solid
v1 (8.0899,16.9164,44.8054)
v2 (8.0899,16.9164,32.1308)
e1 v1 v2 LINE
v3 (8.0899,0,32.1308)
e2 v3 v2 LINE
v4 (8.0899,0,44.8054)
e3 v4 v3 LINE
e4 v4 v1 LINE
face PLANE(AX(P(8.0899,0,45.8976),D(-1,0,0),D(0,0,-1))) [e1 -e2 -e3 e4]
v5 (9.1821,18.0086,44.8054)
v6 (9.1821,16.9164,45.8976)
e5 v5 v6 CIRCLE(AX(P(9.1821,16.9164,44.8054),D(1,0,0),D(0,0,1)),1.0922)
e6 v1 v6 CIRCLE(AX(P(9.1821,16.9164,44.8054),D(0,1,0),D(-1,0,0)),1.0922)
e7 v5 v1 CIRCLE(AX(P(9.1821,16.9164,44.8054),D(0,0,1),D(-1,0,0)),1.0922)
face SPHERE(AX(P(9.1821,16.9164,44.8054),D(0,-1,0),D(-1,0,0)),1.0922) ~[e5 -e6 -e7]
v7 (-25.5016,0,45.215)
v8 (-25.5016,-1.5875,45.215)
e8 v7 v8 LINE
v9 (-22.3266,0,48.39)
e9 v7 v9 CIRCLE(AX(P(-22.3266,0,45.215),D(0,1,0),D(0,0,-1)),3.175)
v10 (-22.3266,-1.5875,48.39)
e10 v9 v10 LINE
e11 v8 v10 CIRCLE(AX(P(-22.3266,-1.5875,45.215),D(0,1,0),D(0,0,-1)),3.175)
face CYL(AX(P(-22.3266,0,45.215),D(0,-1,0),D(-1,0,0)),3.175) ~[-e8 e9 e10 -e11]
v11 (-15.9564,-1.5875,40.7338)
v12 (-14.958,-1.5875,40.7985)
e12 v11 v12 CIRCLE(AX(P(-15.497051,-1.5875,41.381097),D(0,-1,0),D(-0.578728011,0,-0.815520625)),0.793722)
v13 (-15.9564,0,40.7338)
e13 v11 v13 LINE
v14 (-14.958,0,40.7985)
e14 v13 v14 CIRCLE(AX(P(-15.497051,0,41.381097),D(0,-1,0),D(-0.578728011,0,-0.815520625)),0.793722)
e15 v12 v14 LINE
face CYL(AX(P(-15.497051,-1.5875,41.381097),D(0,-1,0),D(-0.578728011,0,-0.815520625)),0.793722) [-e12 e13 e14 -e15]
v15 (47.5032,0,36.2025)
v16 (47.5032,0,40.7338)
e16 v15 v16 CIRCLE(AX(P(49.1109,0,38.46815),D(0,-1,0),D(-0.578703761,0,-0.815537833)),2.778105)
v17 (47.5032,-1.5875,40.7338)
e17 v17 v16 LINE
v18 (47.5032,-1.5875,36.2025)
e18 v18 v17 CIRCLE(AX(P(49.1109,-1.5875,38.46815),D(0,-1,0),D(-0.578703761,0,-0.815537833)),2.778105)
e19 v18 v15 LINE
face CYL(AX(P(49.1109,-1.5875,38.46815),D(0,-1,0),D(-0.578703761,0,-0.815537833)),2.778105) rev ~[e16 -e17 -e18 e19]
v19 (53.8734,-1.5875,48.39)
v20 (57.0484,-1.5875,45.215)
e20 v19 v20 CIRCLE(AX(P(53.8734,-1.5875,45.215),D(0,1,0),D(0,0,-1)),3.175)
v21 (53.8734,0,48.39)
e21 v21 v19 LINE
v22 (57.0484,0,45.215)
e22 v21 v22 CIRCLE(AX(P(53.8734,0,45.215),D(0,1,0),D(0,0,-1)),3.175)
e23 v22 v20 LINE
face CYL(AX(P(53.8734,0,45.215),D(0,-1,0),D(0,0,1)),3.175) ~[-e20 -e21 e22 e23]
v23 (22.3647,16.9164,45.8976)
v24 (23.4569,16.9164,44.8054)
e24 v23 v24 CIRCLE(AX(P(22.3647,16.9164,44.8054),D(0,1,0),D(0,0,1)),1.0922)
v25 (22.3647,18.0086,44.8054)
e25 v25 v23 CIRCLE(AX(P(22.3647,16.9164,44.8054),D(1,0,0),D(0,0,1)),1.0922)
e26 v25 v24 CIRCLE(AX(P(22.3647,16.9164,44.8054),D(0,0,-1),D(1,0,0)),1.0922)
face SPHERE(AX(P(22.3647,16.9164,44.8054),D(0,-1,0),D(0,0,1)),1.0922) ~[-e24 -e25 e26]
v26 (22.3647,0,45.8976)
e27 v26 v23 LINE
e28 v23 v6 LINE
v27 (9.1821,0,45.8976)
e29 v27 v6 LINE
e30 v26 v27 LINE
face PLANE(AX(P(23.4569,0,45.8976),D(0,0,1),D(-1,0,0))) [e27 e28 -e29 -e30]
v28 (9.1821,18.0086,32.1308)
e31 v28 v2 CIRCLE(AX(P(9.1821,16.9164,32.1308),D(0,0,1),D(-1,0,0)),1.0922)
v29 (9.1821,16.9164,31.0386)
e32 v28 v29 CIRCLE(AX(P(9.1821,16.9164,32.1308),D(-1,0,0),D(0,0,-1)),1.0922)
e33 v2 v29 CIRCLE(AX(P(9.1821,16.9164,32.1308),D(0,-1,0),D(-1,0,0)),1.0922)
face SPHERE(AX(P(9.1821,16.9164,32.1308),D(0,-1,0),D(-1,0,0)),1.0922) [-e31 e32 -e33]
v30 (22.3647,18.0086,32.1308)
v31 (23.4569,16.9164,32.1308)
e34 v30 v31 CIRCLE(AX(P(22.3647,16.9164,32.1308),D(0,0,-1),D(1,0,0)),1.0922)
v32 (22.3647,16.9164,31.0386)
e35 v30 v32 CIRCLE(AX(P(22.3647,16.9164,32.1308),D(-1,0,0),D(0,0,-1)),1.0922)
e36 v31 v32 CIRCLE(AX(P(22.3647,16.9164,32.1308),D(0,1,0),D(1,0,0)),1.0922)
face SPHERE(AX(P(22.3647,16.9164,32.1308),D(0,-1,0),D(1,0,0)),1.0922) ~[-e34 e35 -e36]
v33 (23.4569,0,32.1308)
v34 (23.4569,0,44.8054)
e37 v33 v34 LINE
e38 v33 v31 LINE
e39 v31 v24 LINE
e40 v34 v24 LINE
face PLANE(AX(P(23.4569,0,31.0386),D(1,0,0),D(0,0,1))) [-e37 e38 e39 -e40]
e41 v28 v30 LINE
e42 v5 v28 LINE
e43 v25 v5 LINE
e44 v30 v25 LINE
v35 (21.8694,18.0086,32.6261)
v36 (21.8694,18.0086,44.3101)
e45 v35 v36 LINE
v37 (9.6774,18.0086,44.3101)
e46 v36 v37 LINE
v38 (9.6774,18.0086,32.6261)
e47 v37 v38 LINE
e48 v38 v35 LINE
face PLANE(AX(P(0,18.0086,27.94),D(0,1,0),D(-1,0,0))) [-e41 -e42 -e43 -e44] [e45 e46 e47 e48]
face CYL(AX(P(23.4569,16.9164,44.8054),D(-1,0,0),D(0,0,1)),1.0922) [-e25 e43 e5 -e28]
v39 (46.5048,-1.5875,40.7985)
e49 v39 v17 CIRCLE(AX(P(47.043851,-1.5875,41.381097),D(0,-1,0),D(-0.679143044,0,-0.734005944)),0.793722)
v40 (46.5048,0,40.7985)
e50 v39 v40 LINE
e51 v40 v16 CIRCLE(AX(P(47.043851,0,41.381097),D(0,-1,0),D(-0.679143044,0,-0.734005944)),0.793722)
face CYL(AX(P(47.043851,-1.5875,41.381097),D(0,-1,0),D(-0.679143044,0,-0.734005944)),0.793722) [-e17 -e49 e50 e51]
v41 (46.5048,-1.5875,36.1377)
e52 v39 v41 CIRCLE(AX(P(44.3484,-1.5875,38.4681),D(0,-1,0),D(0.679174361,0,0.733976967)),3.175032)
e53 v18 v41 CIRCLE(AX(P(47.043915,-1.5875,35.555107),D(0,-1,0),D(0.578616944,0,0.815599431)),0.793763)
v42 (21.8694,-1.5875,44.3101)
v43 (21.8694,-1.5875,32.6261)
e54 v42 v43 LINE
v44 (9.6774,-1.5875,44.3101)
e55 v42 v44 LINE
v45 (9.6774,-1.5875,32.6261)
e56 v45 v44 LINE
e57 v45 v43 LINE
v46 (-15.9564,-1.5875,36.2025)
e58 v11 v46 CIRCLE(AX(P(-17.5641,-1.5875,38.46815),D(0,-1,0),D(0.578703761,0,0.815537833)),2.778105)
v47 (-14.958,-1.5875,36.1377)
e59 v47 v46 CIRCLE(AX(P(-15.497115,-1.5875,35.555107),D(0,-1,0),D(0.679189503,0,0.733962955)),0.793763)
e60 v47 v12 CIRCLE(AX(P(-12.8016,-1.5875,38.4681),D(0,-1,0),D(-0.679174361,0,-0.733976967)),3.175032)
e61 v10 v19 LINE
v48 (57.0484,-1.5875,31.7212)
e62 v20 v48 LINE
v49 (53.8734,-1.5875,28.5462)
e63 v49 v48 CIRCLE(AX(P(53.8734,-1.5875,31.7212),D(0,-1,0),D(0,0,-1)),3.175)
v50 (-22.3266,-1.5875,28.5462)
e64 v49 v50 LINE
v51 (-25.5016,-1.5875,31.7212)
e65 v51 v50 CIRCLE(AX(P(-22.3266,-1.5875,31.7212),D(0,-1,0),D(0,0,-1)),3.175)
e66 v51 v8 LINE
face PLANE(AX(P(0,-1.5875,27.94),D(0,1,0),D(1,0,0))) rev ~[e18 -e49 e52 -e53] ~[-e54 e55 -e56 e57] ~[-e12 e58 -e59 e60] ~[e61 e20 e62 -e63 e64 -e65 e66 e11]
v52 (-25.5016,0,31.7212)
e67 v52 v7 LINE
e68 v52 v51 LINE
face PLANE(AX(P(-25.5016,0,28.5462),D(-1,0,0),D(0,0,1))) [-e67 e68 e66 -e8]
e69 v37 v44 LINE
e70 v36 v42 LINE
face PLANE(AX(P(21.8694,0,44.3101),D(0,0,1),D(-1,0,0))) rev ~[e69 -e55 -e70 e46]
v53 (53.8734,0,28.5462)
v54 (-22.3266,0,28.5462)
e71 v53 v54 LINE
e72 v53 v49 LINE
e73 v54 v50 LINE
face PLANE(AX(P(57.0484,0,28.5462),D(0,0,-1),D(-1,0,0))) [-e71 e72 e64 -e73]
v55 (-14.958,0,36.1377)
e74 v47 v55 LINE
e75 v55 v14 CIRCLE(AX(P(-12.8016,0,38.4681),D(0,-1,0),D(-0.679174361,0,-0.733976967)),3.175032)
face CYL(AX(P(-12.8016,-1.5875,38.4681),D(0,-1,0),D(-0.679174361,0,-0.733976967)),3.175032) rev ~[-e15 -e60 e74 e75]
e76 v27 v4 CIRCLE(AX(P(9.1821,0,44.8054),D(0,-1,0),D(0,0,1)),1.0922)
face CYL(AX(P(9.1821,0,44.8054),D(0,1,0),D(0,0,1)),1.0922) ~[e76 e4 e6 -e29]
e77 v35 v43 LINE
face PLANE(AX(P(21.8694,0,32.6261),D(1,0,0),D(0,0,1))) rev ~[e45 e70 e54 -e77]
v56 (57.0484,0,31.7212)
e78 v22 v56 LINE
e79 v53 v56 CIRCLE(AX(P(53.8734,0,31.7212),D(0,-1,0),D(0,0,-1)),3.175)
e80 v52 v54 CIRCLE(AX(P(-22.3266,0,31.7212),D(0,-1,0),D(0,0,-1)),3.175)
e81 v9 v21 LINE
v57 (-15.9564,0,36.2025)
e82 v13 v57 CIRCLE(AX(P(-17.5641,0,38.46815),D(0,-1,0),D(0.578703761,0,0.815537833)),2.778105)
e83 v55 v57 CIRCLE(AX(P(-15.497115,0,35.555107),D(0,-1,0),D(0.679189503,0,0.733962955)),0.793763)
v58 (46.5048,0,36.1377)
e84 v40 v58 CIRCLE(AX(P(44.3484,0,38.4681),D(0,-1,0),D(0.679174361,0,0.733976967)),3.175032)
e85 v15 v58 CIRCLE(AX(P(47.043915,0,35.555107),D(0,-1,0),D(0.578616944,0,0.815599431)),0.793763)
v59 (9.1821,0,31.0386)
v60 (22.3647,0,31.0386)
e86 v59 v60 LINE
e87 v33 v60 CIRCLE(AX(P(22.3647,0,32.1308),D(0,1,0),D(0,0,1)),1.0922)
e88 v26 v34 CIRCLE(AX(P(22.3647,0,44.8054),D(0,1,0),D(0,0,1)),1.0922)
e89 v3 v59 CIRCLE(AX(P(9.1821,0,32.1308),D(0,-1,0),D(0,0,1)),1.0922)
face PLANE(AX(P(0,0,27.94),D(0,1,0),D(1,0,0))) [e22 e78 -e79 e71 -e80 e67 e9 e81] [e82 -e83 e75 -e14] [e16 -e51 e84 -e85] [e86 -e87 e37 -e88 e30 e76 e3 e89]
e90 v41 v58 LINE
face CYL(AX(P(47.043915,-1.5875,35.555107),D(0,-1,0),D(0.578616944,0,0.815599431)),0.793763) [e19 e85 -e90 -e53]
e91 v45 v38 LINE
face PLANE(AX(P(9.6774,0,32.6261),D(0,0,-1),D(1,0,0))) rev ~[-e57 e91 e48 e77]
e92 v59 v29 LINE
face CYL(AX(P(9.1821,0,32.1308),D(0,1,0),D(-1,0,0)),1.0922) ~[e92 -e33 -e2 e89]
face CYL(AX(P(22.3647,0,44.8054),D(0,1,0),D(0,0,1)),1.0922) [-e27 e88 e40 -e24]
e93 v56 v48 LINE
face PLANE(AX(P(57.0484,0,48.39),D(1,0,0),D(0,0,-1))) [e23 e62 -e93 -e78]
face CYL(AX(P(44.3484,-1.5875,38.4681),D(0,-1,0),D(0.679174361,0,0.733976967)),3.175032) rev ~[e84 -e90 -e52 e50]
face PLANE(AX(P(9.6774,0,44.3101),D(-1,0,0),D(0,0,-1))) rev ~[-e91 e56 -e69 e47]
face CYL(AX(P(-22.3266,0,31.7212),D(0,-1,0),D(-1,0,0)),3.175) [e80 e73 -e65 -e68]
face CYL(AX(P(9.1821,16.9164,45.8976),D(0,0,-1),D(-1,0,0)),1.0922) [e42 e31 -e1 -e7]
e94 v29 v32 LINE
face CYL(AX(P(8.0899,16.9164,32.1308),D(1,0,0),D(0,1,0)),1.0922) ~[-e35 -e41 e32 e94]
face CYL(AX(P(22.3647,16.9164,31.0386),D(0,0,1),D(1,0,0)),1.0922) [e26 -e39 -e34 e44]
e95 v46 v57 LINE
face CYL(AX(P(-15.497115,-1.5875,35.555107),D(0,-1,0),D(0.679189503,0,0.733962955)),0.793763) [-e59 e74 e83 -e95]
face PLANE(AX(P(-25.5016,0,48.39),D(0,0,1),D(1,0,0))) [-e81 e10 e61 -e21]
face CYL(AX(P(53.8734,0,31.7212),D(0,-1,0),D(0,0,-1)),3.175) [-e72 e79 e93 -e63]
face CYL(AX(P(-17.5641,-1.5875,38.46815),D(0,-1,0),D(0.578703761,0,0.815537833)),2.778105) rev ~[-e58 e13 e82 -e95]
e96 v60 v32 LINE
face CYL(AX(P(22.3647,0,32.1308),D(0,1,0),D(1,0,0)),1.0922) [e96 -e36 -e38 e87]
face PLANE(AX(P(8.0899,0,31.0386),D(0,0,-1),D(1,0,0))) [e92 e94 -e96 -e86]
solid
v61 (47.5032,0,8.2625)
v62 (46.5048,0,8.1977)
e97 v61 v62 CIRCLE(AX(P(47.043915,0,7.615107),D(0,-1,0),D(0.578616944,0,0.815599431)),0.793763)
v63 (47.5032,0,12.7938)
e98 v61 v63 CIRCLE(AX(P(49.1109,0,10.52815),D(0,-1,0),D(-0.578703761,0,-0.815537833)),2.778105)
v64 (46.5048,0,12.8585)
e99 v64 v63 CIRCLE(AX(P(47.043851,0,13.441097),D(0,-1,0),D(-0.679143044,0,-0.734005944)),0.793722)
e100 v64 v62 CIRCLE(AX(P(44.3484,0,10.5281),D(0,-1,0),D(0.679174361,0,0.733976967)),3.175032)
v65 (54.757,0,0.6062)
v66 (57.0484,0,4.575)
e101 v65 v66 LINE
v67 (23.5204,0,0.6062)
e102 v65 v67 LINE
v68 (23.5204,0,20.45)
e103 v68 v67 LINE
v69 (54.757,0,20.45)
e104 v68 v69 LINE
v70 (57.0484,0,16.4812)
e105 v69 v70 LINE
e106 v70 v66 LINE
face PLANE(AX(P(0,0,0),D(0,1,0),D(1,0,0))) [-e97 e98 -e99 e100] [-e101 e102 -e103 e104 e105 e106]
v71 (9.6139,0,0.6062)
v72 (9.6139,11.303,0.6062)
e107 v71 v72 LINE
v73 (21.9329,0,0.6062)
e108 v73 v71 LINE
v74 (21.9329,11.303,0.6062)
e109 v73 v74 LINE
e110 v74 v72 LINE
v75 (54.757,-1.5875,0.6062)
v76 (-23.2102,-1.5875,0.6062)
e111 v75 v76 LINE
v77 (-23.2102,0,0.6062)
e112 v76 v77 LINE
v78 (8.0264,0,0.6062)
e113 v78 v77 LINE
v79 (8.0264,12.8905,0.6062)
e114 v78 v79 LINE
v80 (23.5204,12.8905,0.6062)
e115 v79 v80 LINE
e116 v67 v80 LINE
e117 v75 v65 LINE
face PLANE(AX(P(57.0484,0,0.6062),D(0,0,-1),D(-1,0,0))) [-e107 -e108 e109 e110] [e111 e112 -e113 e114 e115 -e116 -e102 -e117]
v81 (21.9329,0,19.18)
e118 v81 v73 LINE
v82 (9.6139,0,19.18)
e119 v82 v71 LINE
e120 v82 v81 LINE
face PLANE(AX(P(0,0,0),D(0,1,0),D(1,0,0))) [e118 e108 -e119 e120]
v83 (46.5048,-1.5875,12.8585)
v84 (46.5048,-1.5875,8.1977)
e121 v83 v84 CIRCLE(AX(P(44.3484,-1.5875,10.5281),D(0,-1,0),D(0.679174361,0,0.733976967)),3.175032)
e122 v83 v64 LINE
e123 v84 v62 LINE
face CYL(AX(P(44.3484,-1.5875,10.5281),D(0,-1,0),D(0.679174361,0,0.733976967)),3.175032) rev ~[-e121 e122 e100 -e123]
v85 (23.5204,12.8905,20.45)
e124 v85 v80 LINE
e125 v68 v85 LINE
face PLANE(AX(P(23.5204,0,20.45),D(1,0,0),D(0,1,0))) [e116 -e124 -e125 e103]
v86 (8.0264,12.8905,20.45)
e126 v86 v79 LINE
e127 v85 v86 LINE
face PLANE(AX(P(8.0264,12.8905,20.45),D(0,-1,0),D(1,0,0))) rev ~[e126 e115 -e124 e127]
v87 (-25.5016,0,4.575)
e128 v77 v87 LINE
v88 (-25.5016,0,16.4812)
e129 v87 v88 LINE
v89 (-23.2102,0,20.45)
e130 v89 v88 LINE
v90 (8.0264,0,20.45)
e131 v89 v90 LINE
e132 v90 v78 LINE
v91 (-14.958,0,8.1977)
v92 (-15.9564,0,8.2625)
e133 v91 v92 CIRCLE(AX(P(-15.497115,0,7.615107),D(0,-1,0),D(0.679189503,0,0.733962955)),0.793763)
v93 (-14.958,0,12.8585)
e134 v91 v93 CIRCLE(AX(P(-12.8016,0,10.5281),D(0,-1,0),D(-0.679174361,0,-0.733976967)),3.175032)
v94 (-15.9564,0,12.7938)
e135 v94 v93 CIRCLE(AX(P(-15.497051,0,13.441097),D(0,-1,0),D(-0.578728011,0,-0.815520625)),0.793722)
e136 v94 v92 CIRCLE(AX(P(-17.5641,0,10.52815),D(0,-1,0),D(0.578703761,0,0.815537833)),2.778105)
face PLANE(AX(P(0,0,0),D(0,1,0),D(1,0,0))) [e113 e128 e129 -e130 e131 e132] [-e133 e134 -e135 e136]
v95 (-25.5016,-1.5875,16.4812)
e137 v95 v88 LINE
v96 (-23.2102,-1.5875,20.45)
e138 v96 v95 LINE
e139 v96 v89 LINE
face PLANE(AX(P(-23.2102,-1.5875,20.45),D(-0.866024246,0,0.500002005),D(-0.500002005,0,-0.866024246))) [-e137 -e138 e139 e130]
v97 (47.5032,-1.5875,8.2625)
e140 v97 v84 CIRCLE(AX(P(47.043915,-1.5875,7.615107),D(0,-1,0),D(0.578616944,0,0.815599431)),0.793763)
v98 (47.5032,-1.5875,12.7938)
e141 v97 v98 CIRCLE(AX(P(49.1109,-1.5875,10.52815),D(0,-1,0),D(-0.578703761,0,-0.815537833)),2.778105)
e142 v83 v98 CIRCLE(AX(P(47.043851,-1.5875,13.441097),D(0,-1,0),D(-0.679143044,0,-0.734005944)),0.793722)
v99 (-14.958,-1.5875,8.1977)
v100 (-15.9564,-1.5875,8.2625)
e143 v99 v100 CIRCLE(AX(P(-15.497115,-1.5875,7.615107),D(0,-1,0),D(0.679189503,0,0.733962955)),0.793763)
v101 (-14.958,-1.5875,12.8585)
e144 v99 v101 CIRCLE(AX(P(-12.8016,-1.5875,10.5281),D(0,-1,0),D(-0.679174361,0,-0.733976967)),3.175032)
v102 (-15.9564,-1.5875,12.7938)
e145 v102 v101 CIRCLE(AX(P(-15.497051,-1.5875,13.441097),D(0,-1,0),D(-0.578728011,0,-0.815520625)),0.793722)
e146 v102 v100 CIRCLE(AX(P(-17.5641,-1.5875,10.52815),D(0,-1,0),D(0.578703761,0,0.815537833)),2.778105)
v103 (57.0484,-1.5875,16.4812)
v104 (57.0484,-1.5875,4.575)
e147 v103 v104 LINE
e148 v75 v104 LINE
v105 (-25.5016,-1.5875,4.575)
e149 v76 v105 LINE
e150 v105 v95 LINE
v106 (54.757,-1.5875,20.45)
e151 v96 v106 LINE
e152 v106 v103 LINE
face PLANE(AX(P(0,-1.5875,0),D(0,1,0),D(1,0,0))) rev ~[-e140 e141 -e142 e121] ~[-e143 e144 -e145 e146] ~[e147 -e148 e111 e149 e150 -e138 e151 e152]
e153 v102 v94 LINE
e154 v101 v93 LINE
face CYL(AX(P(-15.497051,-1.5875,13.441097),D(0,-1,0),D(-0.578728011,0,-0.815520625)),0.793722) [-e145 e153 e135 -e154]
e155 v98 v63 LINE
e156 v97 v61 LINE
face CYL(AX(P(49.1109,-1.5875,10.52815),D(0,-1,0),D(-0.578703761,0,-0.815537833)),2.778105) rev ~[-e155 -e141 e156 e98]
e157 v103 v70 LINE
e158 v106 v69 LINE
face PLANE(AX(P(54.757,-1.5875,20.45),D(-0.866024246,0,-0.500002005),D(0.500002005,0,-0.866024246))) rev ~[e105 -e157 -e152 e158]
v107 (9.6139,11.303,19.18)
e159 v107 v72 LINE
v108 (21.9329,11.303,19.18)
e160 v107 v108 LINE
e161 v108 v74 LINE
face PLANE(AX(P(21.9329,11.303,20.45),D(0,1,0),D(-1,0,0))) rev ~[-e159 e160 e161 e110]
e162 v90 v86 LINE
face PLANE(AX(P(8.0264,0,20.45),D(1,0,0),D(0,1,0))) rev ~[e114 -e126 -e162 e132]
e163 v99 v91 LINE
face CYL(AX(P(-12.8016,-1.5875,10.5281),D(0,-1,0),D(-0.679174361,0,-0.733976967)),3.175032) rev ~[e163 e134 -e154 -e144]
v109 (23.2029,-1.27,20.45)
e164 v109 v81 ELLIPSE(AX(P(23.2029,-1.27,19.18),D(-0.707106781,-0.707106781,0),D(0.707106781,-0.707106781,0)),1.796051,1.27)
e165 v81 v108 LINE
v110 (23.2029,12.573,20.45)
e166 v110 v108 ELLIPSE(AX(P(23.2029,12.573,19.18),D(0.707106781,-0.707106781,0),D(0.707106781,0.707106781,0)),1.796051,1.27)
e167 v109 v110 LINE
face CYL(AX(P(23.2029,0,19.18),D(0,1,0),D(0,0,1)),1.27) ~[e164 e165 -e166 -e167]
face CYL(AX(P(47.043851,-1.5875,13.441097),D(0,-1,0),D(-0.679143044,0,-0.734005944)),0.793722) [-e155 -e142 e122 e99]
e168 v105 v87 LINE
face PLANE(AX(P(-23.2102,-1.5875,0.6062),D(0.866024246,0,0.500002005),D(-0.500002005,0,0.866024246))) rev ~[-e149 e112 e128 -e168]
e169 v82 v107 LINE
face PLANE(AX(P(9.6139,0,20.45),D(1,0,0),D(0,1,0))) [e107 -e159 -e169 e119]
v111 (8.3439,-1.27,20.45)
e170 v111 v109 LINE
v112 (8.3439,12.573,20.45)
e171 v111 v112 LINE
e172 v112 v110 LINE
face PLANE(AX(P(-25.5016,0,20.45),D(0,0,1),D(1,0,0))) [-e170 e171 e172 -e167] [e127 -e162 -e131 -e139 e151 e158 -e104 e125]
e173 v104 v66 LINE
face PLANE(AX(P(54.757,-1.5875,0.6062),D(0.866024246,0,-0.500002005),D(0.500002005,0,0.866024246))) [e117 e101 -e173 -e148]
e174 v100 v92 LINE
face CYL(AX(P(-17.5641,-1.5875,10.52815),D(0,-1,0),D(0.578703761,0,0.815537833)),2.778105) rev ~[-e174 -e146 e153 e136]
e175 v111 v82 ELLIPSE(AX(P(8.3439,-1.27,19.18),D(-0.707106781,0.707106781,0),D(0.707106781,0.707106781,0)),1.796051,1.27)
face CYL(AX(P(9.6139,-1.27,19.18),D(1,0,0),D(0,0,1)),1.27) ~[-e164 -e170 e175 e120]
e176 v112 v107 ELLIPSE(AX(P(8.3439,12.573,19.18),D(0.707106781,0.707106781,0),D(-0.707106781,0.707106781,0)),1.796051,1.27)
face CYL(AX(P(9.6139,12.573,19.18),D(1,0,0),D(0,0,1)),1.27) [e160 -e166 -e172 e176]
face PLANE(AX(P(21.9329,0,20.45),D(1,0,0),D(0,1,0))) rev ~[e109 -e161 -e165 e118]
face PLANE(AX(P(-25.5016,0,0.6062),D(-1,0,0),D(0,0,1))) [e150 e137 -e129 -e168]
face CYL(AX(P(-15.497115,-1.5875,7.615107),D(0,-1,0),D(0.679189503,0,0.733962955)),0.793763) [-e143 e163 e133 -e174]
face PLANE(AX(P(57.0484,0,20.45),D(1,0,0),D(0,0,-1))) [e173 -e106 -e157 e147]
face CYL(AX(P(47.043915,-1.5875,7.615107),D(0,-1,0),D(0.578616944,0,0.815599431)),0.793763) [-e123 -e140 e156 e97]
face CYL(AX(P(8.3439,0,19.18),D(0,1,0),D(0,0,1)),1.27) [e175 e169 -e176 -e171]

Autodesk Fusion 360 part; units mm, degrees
sketch "Sketch1" plane through (0, 0, 0) normal (0, 1, 0) x (1, 0, 0) in component "Solenoid base"
  line L0 (-25.5016, -20.45) -> (57.0484, -20.45)
  line L1 (57.0484, -20.45) -> (57.0484, -0.6062)
  line L2 (57.0484, -0.6062) -> (-25.5016, -0.6062)
  line L3 (-25.5016, -0.6062) -> (-25.5016, -20.45)
  dimension "d1_1_1" = 82.55
  dimension "d2_1_1" = 19.8438
extrude "Extrude1" add sketch "Sketch1" against normal blind 1.5875 makes body 1 in component "Solenoid base"
sketch "Sketch5" plane through (0, -1.5875, 0) normal (0, -1, 0) x (1, 0, 0) in component "Solenoid base"
  line L0 (15.7734, -11.3) -> (15.7734, 20.45) construction
  line L1 (46.9483, 10.5281) -> (-16.5517, 10.5281) construction
  line L2 (44.3484, 10.5281) -> (49.1109, 10.5281) construction
  arc A0 (47.5032, 8.2625) -> (46.5048, 8.1977) centre (47.0438, 7.6151) ccw
  arc A1 (46.5048, 12.8585) -> (47.5032, 12.7938) centre (47.0438, 13.4411) ccw
  arc A2 (47.5032, 8.2625) -> (47.5032, 12.7938) centre (49.1109, 10.5281) ccw
  arc A3 (46.5048, 12.8585) -> (46.5048, 8.1977) centre (44.3484, 10.5281) ccw
  arc A4 (-14.958, 8.1977) -> (-14.958, 12.8585) centre (-12.8016, 10.5281) ccw
  arc A5 (-15.9564, 12.7938) -> (-15.9564, 8.2625) centre (-17.5641, 10.5281) ccw
  arc A6 (-15.9564, 12.7938) -> (-14.958, 12.8585) centre (-15.497, 13.4411) ccw
  arc A7 (-14.958, 8.1977) -> (-15.9564, 8.2625) centre (-15.497, 7.6151) ccw
  line L3 (49.1109, 10.5281) -> (-12.8016, 10.5281) construction
  line L4 (57.0484, 10.5281) -> (-25.5016, 10.5281) construction
  line L5 (57.0484, 20.45) -> (-25.5016, 20.45)
  line L6 (-25.5016, 20.45) -> (-25.5016, 0.6062)
  line L7 (-25.5016, 0.6062) -> (57.0484, 0.6062)
  line L8 (57.0484, 0.6062) -> (57.0484, 20.45)
  dimension "d33_1_1" = 5.5563
  dimension "d35_1_1" = 1.5875
  dimension "d38_1_1" = 4.7625
  dimension "d40_1_1" = 3.175
  dimension "d2" = 28.575
extrude "Extrude12" cut sketch "Sketch5" against normal up to surface (1.5875 mm away) contours A0 A1 A2 A3 | A4 A5 A6 A7 bodies 1 in component "Solenoid base"
sketch "Sketch17" plane through (0, 0, 20.45) normal (0, 0, 1) x (1, 0, 0) in component "Solenoid base"
  line L0 (57.0484, 0) -> (-25.5016, 0)
  line L1 (-25.5016, -1.5875) -> (57.0484, -1.5875)
  line L2 (15.7734, 0) -> (15.7734, 14.8694) construction
  line L3 (15.7734, 0) -> (21.9329, 0)
  line L4 (21.9329, 0) -> (21.9329, 11.303)
  line L5 (21.9329, 11.303) -> (15.7734, 11.303)
  line L6 (9.6139, 0) -> (9.6139, 11.303)
  line L7 (9.6139, 11.303) -> (15.7734, 11.303)
  line L8 (8.0264, 0) -> (8.0264, 12.8905)
  line L9 (8.0264, 12.8905) -> (15.7734, 12.8905)
  line L10 (23.5204, 12.8905) -> (15.7734, 12.8905)
  line L11 (23.5204, -1.5875) -> (23.5204, 12.8905)
  line L12 (15.7734, -1.5875) -> (23.5204, -1.5875)
  line L13 (-25.5016, 0) -> (-25.5016, -1.5875)
  line L14 (57.0484, -1.5875) -> (57.0484, 0)
  dimension "d5" = 11.303
  dimension "d6" = 6.1595
  dimension "d7" = 1.5875
extrude "Extrude13" add sketch "Sketch17" against normal up to surface (19.8438 mm away) contours L0 L4 L5 L6 L7 L8 L9 L10 L11 bodies 1 in component "Solenoid base"
sketch "Sketch1 (2)" plane through (0, 0, 0) normal (0, 1, 0) x (1, 0, 0) in component "Solenoid base vertical"
  line L0 (-25.5016, -20.45) -> (57.0484, -20.45)
  line L1 (57.0484, -20.45) -> (57.0484, -0.6062)
  line L2 (57.0484, -0.6062) -> (-25.5016, -0.6062)
  line L3 (-25.5016, -0.6062) -> (-25.5016, -20.45)
  dimension "d1_1_1_1" = 82.55
  dimension "d2_1_1_1" = 19.8438
extrude "Extrude1'" add sketch "Sketch1 (2)" against normal blind 1.5875 separate body makes body 2 in component "Solenoid base vertical"
sketch "Sketch5 (2)" plane through (0, -1.5875, 0) normal (0, -1, 0) x (1, 0, 0) in component "Solenoid base vertical"
  line L0 (15.7734, -11.3) -> (15.7734, 20.45) construction
  line L1 (46.9483, 10.5281) -> (-16.5517, 10.5281) construction
  line L2 (44.3484, 10.5281) -> (49.1109, 10.5281) construction
  arc A0 (47.5032, 8.2625) -> (46.5048, 8.1977) centre (47.0438, 7.6151) ccw
  arc A1 (46.5048, 12.8585) -> (47.5032, 12.7938) centre (47.0438, 13.4411) ccw
  arc A2 (47.5032, 8.2625) -> (47.5032, 12.7938) centre (49.1109, 10.5281) ccw
  arc A3 (46.5048, 12.8585) -> (46.5048, 8.1977) centre (44.3484, 10.5281) ccw
  arc A4 (-14.958, 8.1977) -> (-14.958, 12.8585) centre (-12.8016, 10.5281) ccw
  arc A5 (-15.9564, 12.7938) -> (-15.9564, 8.2625) centre (-17.5641, 10.5281) ccw
  arc A6 (-15.9564, 12.7938) -> (-14.958, 12.8585) centre (-15.497, 13.4411) ccw
  arc A7 (-14.958, 8.1977) -> (-15.9564, 8.2625) centre (-15.497, 7.6151) ccw
  line L3 (49.1109, 10.5281) -> (-12.8016, 10.5281) construction
  line L4 (57.0484, 10.5281) -> (-25.5016, 10.5281) construction
  line L5 (57.0484, 20.45) -> (-25.5016, 20.45)
  line L6 (-25.5016, 20.45) -> (-25.5016, 0.6062)
  line L7 (-25.5016, 0.6062) -> (57.0484, 0.6062)
  line L8 (57.0484, 0.6062) -> (57.0484, 20.45)
  dimension "d33_1_1_1" = 5.5563
  dimension "d35_1_1_1" = 1.5875
  dimension "d38_1_1_1" = 4.7625
  dimension "d40_1_1_1" = 3.175
  dimension "d2_2" = 28.575
extrude "Extrude12'" cut sketch "Sketch5 (2)" against normal up to surface (1.5875 mm away) contours A0 A1 A2 A3 | A4 A5 A6 A7 bodies 2 in component "Solenoid base vertical"
sketch "Sketch17 (2)" plane through (0, 0, 20.45) normal (0, 0, 1) x (1, 0, 0) in component "Solenoid base vertical"
  line L0 (57.0484, 0) -> (-25.5016, 0)
  line L1 (-25.5016, -1.5875) -> (57.0484, -1.5875)
  line L2 (15.7734, 0) -> (15.7734, 14.8694) construction
  line L3 (15.7734, 0) -> (22.9172, 0)
  line L4 (22.9172, 0) -> (22.9172, 14.2875)
  line L5 (22.9172, 14.2875) -> (15.7734, 14.2875)
  line L6 (8.6297, 0) -> (8.6297, 14.2875)
  line L7 (8.6297, 14.2875) -> (15.7734, 14.2875)
  line L8 (7.0422, 0) -> (7.0422, 15.875)
  line L9 (7.0422, 15.875) -> (15.7734, 15.875)
  line L10 (24.5047, 15.875) -> (15.7734, 15.875)
  line L11 (24.5047, -1.5875) -> (24.5047, 15.875)
  line L12 (15.7734, -1.5875) -> (24.5047, -1.5875)
  line L13 (-25.5016, 0) -> (-25.5016, -1.5875)
  line L14 (57.0484, -1.5875) -> (57.0484, 0)
  dimension "d5_2" = 14.2875
  dimension "d6_2" = 7.1437
  dimension "d7_2" = 1.5875
sketch "Sketch18" plane through (0, 0, 0) normal (0, 1, 0) x (-1, 0, 0) in component "Solenoid base vertical"
  arc A0 (-46.5048, 8.1977) -> (-47.5032, 8.2625) centre (-47.0438, 7.6151) ccw
  arc A1 (-47.5032, 12.7938) -> (-47.5032, 8.2625) centre (-49.1109, 10.5281) ccw
  arc A2 (-47.5032, 12.7938) -> (-46.5048, 12.8585) centre (-47.0438, 13.4411) ccw
  arc A3 (-46.5048, 8.1977) -> (-46.5048, 12.8585) centre (-44.3484, 10.5281) ccw
  arc A4 (14.958, 12.8585) -> (15.9564, 12.7938) centre (15.497, 13.4411) ccw
  arc A5 (15.9564, 8.2625) -> (15.9564, 12.7938) centre (17.5641, 10.5281) ccw
  arc A6 (15.9564, 8.2625) -> (14.958, 8.1977) centre (15.497, 7.6151) ccw
  arc A7 (14.958, 12.8585) -> (14.958, 8.1977) centre (12.8016, 10.5281) ccw
  line L0 (25.5016, 0.6062) -> (25.5016, 20.45)
  line L1 (25.5016, 20.45) -> (-57.0484, 20.45)
  line L2 (-57.0484, 20.45) -> (-57.0484, 0.6062)
  line L3 (-57.0484, 0.6062) -> (25.5016, 0.6062)
  line L4 (-15.7734, 0.6062) -> (-15.7734, 20.45) construction
  line L5 (-8.6297, 0.6062) -> (-22.9172, 0.6062)
  line L6 (-21.8694, 4.6861) -> (-21.8694, 16.3701)
  line L7 (-22.9172, 20.45) -> (-8.6297, 20.45)
  line L8 (-9.6774, 16.3701) -> (-9.6774, 4.6861)
  line L9 (-9.6774, 4.6861) -> (-21.8694, 4.6861)
  line L10 (-21.8694, 10.5281) -> (-21.8694, 16.3701)
  line L11 (-21.8694, 16.3701) -> (-9.6774, 16.3701)
  line L12 (-9.6774, 10.5281) -> (-9.6774, 4.6861)
  line L13 (-9.6774, 10.5281) -> (-27.6863, 10.5281) construction
  line L14 (25.5016, 10.5281) -> (-3.8857, 10.5281) construction
  dimension "d10" = 6.096
  dimension "d11" = 12.192
  dimension "d12" = 11.684
  dimension "d14" = 5.842
extrude "Extrude14" cut sketch "Sketch18" against normal up to surface (1.5875 mm away) contours L6 L8 L9 L10 L11 L12 bodies 2 in component "Solenoid base vertical"
sketch "Sketch19" plane through (0, 0, 0) normal (0, 1, 0) x (-1, 0, 0) in component "Solenoid base vertical"
  line L0 (-9.6774, 4.6861) -> (-21.8694, 4.6861)
  line L1 (-21.8694, 4.6861) -> (-21.8694, 16.3701)
  line L2 (-21.8694, 16.3701) -> (-9.6774, 16.3701)
  line L3 (-9.6774, 16.3701) -> (-9.6774, 4.6861)
  arc A0 (-46.5048, 8.1977) -> (-47.5032, 8.2625) centre (-47.0438, 7.6151) ccw
  arc A1 (-47.5032, 12.7938) -> (-47.5032, 8.2625) centre (-49.1109, 10.5281) ccw
  arc A2 (-47.5032, 12.7938) -> (-46.5048, 12.8585) centre (-47.0438, 13.4411) ccw
  arc A3 (-46.5048, 8.1977) -> (-46.5048, 12.8585) centre (-44.3484, 10.5281) ccw
  arc A4 (14.958, 12.8585) -> (15.9564, 12.7938) centre (15.497, 13.4411) ccw
  arc A5 (15.9564, 8.2625) -> (15.9564, 12.7938) centre (17.5641, 10.5281) ccw
  arc A6 (15.9564, 8.2625) -> (14.958, 8.1977) centre (15.497, 7.6151) ccw
  arc A7 (14.958, 12.8585) -> (14.958, 8.1977) centre (12.8016, 10.5281) ccw
  line L4 (25.5016, 0.6062) -> (25.5016, 20.45)
  line L5 (25.5016, 20.45) -> (-57.0484, 20.45)
  line L6 (-57.0484, 20.45) -> (-57.0484, 0.6062)
  line L7 (-57.0484, 0.6062) -> (25.5016, 0.6062)
  line L8 (-23.4569, 17.9576) -> (-8.0899, 17.9576)
  line L9 (-8.0899, 17.9576) -> (-8.0899, 3.0986)
  line L10 (-8.0899, 3.0986) -> (-23.4569, 3.0986)
  line L11 (-23.4569, 3.0986) -> (-23.4569, 17.9576)
  dimension "d17" = -1.5875
extrude "Extrude15" add sketch "Sketch19" along normal blind 18.0086 contours L8 L9 L10 L11 bodies 2 in component "Solenoid base vertical"
fillet "Fillet9" radius 1.0922 8 edges at (23.4569, 9.0043, 17.9576) (23.4569, 9.0043, 3.0986) (8.0899, 9.0043, 3.0986) (8.0899, 9.0043, 17.9576) (8.0899, 18.0086, 10.5281) (15.7734, 18.0086, 17.9576) (23.4569, 18.0086, 10.5281) (15.7734, 18.0086, 3.0986) on bodies 2 in component "Solenoid base vertical"
fillet "Fillet10" radius 3.175 4 edges at (57.0484, -0.7937, 20.45) (57.0484, -0.7937, 0.6062) (-25.5016, -0.7937, 20.45) (-25.5016, -0.7937, 0.6062) on bodies 2 in component "Solenoid base vertical"
fillet "Fillet9'" radius 1.27 4 edges at (15.7734, 0, 20.45) (9.6139, 5.6515, 20.45) (15.7734, 11.303, 20.45) (21.9329, 5.6515, 20.45) on bodies 1 in component "Solenoid base"
sketch "Sketch18 (2)" plane through (0, -1.5875, 0) normal (0, -1, 0) x (1, 0, 0) in component "Solenoid base"
  arc A0 (47.5032, 8.2625) -> (46.5048, 8.1977) centre (47.0438, 7.6151) ccw
  arc A1 (46.5048, 12.8585) -> (46.5048, 8.1977) centre (44.3484, 10.5281) ccw
  arc A2 (46.5048, 12.8585) -> (47.5032, 12.7938) centre (47.0438, 13.4411) ccw
  arc A3 (47.5032, 8.2625) -> (47.5032, 12.7938) centre (49.1109, 10.5281) ccw
  arc A4 (-15.9564, 12.7938) -> (-14.958, 12.8585) centre (-15.497, 13.4411) ccw
  arc A5 (-14.958, 8.1977) -> (-14.958, 12.8585) centre (-12.8016, 10.5281) ccw
  arc A6 (-14.958, 8.1977) -> (-15.9564, 8.2625) centre (-15.497, 7.6151) ccw
  arc A7 (-15.9564, 12.7938) -> (-15.9564, 8.2625) centre (-17.5641, 10.5281) ccw
  line L0 (-25.5016, 20.45) -> (-25.5016, 0.6062)
  line L1 (-25.5016, 0.6062) -> (57.0484, 0.6062)
  line L2 (57.0484, 0.6062) -> (57.0484, 20.45)
  line L3 (57.0484, 20.45) -> (-25.5016, 20.45)
  line L4 (-23.2102, 20.45) -> (-25.5016, 16.4812)
  line L5 (-23.2102, 20.45) -> (-25.5016, 20.45)
  line L6 (-25.5016, 16.4812) -> (-25.5016, 20.45)
  line L7 (15.7734, 20.45) -> (15.7734, 4.7728) construction
  curve L8
  line L9 (54.757, 20.45) -> (57.0484, 20.45)
  line L10 (54.757, 20.45) -> (57.0484, 16.4812)
  line L11 (57.0484, 16.4812) -> (57.0484, 20.45)
  line L12 (57.0484, 10.5281) -> (23.201, 10.5281) construction
  line L13 (54.757, 0.6062) -> (57.0484, 4.575)
  line L14 (57.0484, 4.575) -> (57.0484, 0.6062)
  line L15 (54.757, 0.6062) -> (57.0484, 0.6062)
  line L16 (-23.2102, 0.6062) -> (-25.5016, 4.575)
  line L17 (-23.2102, 0.6062) -> (-25.5016, 0.6062)
  line L18 (-25.5016, 4.575) -> (-25.5016, 0.6062)
  point P0 (57.0484, 20.45)
  dimension "d23" = 30
  dimension "d24" = 3.9688
extrude "Extrude14'" cut sketch "Sketch18 (2)" against normal up to surface (1.5875 mm away) contours L0 L3 L4 L5 L6 | L0 L1 L16 L17 L18 | L2 L3 L9 L10 L11 | L1 L2 L13 L14 L15 bodies 1 in component "Solenoid base"
component "Solenoid base" placed x (1, 0, 0) y (0, 1, 0) z (0, 0, 1) at (0, 0, 0)
component "Solenoid base vertical" placed x (1, 0, 0) y (0, 1, 0) z (0, 0, 1) at (0, 0, 27.94)
equation "d3_1_1 = d1_1_1 / 2 - 0.246 in"
equation "d4_1_1 = ( d2_1_1 - 0.889764 in ) / 2"
equation "d8_1_1 = 0.25 in"
equation "d10_1_1 = 2.50 in / 2"
equation "d14_1_1 = 0.889764 in / 2 + d16_1_1 / 2"
equation "d30_1_1 = 0.063 in"
equation "d33_1_1 = 0.25 in - 0.03125 in"
equation "d36_1_1 = ( 1.25 in ) / 2 - d32_1"
equation "d41_1_1 = -0.40 in"
equation "d42_1_1 = 0.0 deg"
equation "d66_1 = d65_1"
equation "d67_1 = 0.00 in"
equation "d78_1 = d75_1"
equation "d93_1 = 0.625 in + d75_1 / 2"
equation "d95_1 = 0.1875 in + 0.010 in"
equation "d96_1 = 0.0 deg"
equation "d97_1 = 0.0625 in"
equation "d98_1 = 0.0 deg"
equation "d99_1 = 0.8900 in"
equation "d100_1 = 0.1875 in + 0.01 in"
equation "d101_1 = 0.0 deg"
equation "d102_1 = 0.06250 in"
equation "d103_1 = 0.0 deg"
equation "d104_1 = -0.3125 in"
equation "d105_1 = -10.0 deg"
equation "d106_1 = -0.25 in"
equation "d107_1 = 0.0 deg"
equation "d109_1 = d108_1"
equation "d110_1 = -0.2500 in"
equation "d111_1 = 0.0 deg"
equation "d115_1 = 0.060 in"
equation "d116_1 = 0.030 in"
equation "d117_1 = 0.25 in"
equation "d118_1 = 90.0 deg"
equation "d119_1 = 90.0 deg"
equation "d32_1 = 0.25 in + ( 0.03125 / 2 ) * 1 in"
equation "d6 = ( 0.485 / 2 ) * 1 in"
equation "d33_1_1_1 = 0.25 in - 0.03125 in"
equation "d6_2 = ( 0.5625 / 2 ) * 1 in"
equation "d10 = d11 / 2"
equation "d14 = d12 / 2"
